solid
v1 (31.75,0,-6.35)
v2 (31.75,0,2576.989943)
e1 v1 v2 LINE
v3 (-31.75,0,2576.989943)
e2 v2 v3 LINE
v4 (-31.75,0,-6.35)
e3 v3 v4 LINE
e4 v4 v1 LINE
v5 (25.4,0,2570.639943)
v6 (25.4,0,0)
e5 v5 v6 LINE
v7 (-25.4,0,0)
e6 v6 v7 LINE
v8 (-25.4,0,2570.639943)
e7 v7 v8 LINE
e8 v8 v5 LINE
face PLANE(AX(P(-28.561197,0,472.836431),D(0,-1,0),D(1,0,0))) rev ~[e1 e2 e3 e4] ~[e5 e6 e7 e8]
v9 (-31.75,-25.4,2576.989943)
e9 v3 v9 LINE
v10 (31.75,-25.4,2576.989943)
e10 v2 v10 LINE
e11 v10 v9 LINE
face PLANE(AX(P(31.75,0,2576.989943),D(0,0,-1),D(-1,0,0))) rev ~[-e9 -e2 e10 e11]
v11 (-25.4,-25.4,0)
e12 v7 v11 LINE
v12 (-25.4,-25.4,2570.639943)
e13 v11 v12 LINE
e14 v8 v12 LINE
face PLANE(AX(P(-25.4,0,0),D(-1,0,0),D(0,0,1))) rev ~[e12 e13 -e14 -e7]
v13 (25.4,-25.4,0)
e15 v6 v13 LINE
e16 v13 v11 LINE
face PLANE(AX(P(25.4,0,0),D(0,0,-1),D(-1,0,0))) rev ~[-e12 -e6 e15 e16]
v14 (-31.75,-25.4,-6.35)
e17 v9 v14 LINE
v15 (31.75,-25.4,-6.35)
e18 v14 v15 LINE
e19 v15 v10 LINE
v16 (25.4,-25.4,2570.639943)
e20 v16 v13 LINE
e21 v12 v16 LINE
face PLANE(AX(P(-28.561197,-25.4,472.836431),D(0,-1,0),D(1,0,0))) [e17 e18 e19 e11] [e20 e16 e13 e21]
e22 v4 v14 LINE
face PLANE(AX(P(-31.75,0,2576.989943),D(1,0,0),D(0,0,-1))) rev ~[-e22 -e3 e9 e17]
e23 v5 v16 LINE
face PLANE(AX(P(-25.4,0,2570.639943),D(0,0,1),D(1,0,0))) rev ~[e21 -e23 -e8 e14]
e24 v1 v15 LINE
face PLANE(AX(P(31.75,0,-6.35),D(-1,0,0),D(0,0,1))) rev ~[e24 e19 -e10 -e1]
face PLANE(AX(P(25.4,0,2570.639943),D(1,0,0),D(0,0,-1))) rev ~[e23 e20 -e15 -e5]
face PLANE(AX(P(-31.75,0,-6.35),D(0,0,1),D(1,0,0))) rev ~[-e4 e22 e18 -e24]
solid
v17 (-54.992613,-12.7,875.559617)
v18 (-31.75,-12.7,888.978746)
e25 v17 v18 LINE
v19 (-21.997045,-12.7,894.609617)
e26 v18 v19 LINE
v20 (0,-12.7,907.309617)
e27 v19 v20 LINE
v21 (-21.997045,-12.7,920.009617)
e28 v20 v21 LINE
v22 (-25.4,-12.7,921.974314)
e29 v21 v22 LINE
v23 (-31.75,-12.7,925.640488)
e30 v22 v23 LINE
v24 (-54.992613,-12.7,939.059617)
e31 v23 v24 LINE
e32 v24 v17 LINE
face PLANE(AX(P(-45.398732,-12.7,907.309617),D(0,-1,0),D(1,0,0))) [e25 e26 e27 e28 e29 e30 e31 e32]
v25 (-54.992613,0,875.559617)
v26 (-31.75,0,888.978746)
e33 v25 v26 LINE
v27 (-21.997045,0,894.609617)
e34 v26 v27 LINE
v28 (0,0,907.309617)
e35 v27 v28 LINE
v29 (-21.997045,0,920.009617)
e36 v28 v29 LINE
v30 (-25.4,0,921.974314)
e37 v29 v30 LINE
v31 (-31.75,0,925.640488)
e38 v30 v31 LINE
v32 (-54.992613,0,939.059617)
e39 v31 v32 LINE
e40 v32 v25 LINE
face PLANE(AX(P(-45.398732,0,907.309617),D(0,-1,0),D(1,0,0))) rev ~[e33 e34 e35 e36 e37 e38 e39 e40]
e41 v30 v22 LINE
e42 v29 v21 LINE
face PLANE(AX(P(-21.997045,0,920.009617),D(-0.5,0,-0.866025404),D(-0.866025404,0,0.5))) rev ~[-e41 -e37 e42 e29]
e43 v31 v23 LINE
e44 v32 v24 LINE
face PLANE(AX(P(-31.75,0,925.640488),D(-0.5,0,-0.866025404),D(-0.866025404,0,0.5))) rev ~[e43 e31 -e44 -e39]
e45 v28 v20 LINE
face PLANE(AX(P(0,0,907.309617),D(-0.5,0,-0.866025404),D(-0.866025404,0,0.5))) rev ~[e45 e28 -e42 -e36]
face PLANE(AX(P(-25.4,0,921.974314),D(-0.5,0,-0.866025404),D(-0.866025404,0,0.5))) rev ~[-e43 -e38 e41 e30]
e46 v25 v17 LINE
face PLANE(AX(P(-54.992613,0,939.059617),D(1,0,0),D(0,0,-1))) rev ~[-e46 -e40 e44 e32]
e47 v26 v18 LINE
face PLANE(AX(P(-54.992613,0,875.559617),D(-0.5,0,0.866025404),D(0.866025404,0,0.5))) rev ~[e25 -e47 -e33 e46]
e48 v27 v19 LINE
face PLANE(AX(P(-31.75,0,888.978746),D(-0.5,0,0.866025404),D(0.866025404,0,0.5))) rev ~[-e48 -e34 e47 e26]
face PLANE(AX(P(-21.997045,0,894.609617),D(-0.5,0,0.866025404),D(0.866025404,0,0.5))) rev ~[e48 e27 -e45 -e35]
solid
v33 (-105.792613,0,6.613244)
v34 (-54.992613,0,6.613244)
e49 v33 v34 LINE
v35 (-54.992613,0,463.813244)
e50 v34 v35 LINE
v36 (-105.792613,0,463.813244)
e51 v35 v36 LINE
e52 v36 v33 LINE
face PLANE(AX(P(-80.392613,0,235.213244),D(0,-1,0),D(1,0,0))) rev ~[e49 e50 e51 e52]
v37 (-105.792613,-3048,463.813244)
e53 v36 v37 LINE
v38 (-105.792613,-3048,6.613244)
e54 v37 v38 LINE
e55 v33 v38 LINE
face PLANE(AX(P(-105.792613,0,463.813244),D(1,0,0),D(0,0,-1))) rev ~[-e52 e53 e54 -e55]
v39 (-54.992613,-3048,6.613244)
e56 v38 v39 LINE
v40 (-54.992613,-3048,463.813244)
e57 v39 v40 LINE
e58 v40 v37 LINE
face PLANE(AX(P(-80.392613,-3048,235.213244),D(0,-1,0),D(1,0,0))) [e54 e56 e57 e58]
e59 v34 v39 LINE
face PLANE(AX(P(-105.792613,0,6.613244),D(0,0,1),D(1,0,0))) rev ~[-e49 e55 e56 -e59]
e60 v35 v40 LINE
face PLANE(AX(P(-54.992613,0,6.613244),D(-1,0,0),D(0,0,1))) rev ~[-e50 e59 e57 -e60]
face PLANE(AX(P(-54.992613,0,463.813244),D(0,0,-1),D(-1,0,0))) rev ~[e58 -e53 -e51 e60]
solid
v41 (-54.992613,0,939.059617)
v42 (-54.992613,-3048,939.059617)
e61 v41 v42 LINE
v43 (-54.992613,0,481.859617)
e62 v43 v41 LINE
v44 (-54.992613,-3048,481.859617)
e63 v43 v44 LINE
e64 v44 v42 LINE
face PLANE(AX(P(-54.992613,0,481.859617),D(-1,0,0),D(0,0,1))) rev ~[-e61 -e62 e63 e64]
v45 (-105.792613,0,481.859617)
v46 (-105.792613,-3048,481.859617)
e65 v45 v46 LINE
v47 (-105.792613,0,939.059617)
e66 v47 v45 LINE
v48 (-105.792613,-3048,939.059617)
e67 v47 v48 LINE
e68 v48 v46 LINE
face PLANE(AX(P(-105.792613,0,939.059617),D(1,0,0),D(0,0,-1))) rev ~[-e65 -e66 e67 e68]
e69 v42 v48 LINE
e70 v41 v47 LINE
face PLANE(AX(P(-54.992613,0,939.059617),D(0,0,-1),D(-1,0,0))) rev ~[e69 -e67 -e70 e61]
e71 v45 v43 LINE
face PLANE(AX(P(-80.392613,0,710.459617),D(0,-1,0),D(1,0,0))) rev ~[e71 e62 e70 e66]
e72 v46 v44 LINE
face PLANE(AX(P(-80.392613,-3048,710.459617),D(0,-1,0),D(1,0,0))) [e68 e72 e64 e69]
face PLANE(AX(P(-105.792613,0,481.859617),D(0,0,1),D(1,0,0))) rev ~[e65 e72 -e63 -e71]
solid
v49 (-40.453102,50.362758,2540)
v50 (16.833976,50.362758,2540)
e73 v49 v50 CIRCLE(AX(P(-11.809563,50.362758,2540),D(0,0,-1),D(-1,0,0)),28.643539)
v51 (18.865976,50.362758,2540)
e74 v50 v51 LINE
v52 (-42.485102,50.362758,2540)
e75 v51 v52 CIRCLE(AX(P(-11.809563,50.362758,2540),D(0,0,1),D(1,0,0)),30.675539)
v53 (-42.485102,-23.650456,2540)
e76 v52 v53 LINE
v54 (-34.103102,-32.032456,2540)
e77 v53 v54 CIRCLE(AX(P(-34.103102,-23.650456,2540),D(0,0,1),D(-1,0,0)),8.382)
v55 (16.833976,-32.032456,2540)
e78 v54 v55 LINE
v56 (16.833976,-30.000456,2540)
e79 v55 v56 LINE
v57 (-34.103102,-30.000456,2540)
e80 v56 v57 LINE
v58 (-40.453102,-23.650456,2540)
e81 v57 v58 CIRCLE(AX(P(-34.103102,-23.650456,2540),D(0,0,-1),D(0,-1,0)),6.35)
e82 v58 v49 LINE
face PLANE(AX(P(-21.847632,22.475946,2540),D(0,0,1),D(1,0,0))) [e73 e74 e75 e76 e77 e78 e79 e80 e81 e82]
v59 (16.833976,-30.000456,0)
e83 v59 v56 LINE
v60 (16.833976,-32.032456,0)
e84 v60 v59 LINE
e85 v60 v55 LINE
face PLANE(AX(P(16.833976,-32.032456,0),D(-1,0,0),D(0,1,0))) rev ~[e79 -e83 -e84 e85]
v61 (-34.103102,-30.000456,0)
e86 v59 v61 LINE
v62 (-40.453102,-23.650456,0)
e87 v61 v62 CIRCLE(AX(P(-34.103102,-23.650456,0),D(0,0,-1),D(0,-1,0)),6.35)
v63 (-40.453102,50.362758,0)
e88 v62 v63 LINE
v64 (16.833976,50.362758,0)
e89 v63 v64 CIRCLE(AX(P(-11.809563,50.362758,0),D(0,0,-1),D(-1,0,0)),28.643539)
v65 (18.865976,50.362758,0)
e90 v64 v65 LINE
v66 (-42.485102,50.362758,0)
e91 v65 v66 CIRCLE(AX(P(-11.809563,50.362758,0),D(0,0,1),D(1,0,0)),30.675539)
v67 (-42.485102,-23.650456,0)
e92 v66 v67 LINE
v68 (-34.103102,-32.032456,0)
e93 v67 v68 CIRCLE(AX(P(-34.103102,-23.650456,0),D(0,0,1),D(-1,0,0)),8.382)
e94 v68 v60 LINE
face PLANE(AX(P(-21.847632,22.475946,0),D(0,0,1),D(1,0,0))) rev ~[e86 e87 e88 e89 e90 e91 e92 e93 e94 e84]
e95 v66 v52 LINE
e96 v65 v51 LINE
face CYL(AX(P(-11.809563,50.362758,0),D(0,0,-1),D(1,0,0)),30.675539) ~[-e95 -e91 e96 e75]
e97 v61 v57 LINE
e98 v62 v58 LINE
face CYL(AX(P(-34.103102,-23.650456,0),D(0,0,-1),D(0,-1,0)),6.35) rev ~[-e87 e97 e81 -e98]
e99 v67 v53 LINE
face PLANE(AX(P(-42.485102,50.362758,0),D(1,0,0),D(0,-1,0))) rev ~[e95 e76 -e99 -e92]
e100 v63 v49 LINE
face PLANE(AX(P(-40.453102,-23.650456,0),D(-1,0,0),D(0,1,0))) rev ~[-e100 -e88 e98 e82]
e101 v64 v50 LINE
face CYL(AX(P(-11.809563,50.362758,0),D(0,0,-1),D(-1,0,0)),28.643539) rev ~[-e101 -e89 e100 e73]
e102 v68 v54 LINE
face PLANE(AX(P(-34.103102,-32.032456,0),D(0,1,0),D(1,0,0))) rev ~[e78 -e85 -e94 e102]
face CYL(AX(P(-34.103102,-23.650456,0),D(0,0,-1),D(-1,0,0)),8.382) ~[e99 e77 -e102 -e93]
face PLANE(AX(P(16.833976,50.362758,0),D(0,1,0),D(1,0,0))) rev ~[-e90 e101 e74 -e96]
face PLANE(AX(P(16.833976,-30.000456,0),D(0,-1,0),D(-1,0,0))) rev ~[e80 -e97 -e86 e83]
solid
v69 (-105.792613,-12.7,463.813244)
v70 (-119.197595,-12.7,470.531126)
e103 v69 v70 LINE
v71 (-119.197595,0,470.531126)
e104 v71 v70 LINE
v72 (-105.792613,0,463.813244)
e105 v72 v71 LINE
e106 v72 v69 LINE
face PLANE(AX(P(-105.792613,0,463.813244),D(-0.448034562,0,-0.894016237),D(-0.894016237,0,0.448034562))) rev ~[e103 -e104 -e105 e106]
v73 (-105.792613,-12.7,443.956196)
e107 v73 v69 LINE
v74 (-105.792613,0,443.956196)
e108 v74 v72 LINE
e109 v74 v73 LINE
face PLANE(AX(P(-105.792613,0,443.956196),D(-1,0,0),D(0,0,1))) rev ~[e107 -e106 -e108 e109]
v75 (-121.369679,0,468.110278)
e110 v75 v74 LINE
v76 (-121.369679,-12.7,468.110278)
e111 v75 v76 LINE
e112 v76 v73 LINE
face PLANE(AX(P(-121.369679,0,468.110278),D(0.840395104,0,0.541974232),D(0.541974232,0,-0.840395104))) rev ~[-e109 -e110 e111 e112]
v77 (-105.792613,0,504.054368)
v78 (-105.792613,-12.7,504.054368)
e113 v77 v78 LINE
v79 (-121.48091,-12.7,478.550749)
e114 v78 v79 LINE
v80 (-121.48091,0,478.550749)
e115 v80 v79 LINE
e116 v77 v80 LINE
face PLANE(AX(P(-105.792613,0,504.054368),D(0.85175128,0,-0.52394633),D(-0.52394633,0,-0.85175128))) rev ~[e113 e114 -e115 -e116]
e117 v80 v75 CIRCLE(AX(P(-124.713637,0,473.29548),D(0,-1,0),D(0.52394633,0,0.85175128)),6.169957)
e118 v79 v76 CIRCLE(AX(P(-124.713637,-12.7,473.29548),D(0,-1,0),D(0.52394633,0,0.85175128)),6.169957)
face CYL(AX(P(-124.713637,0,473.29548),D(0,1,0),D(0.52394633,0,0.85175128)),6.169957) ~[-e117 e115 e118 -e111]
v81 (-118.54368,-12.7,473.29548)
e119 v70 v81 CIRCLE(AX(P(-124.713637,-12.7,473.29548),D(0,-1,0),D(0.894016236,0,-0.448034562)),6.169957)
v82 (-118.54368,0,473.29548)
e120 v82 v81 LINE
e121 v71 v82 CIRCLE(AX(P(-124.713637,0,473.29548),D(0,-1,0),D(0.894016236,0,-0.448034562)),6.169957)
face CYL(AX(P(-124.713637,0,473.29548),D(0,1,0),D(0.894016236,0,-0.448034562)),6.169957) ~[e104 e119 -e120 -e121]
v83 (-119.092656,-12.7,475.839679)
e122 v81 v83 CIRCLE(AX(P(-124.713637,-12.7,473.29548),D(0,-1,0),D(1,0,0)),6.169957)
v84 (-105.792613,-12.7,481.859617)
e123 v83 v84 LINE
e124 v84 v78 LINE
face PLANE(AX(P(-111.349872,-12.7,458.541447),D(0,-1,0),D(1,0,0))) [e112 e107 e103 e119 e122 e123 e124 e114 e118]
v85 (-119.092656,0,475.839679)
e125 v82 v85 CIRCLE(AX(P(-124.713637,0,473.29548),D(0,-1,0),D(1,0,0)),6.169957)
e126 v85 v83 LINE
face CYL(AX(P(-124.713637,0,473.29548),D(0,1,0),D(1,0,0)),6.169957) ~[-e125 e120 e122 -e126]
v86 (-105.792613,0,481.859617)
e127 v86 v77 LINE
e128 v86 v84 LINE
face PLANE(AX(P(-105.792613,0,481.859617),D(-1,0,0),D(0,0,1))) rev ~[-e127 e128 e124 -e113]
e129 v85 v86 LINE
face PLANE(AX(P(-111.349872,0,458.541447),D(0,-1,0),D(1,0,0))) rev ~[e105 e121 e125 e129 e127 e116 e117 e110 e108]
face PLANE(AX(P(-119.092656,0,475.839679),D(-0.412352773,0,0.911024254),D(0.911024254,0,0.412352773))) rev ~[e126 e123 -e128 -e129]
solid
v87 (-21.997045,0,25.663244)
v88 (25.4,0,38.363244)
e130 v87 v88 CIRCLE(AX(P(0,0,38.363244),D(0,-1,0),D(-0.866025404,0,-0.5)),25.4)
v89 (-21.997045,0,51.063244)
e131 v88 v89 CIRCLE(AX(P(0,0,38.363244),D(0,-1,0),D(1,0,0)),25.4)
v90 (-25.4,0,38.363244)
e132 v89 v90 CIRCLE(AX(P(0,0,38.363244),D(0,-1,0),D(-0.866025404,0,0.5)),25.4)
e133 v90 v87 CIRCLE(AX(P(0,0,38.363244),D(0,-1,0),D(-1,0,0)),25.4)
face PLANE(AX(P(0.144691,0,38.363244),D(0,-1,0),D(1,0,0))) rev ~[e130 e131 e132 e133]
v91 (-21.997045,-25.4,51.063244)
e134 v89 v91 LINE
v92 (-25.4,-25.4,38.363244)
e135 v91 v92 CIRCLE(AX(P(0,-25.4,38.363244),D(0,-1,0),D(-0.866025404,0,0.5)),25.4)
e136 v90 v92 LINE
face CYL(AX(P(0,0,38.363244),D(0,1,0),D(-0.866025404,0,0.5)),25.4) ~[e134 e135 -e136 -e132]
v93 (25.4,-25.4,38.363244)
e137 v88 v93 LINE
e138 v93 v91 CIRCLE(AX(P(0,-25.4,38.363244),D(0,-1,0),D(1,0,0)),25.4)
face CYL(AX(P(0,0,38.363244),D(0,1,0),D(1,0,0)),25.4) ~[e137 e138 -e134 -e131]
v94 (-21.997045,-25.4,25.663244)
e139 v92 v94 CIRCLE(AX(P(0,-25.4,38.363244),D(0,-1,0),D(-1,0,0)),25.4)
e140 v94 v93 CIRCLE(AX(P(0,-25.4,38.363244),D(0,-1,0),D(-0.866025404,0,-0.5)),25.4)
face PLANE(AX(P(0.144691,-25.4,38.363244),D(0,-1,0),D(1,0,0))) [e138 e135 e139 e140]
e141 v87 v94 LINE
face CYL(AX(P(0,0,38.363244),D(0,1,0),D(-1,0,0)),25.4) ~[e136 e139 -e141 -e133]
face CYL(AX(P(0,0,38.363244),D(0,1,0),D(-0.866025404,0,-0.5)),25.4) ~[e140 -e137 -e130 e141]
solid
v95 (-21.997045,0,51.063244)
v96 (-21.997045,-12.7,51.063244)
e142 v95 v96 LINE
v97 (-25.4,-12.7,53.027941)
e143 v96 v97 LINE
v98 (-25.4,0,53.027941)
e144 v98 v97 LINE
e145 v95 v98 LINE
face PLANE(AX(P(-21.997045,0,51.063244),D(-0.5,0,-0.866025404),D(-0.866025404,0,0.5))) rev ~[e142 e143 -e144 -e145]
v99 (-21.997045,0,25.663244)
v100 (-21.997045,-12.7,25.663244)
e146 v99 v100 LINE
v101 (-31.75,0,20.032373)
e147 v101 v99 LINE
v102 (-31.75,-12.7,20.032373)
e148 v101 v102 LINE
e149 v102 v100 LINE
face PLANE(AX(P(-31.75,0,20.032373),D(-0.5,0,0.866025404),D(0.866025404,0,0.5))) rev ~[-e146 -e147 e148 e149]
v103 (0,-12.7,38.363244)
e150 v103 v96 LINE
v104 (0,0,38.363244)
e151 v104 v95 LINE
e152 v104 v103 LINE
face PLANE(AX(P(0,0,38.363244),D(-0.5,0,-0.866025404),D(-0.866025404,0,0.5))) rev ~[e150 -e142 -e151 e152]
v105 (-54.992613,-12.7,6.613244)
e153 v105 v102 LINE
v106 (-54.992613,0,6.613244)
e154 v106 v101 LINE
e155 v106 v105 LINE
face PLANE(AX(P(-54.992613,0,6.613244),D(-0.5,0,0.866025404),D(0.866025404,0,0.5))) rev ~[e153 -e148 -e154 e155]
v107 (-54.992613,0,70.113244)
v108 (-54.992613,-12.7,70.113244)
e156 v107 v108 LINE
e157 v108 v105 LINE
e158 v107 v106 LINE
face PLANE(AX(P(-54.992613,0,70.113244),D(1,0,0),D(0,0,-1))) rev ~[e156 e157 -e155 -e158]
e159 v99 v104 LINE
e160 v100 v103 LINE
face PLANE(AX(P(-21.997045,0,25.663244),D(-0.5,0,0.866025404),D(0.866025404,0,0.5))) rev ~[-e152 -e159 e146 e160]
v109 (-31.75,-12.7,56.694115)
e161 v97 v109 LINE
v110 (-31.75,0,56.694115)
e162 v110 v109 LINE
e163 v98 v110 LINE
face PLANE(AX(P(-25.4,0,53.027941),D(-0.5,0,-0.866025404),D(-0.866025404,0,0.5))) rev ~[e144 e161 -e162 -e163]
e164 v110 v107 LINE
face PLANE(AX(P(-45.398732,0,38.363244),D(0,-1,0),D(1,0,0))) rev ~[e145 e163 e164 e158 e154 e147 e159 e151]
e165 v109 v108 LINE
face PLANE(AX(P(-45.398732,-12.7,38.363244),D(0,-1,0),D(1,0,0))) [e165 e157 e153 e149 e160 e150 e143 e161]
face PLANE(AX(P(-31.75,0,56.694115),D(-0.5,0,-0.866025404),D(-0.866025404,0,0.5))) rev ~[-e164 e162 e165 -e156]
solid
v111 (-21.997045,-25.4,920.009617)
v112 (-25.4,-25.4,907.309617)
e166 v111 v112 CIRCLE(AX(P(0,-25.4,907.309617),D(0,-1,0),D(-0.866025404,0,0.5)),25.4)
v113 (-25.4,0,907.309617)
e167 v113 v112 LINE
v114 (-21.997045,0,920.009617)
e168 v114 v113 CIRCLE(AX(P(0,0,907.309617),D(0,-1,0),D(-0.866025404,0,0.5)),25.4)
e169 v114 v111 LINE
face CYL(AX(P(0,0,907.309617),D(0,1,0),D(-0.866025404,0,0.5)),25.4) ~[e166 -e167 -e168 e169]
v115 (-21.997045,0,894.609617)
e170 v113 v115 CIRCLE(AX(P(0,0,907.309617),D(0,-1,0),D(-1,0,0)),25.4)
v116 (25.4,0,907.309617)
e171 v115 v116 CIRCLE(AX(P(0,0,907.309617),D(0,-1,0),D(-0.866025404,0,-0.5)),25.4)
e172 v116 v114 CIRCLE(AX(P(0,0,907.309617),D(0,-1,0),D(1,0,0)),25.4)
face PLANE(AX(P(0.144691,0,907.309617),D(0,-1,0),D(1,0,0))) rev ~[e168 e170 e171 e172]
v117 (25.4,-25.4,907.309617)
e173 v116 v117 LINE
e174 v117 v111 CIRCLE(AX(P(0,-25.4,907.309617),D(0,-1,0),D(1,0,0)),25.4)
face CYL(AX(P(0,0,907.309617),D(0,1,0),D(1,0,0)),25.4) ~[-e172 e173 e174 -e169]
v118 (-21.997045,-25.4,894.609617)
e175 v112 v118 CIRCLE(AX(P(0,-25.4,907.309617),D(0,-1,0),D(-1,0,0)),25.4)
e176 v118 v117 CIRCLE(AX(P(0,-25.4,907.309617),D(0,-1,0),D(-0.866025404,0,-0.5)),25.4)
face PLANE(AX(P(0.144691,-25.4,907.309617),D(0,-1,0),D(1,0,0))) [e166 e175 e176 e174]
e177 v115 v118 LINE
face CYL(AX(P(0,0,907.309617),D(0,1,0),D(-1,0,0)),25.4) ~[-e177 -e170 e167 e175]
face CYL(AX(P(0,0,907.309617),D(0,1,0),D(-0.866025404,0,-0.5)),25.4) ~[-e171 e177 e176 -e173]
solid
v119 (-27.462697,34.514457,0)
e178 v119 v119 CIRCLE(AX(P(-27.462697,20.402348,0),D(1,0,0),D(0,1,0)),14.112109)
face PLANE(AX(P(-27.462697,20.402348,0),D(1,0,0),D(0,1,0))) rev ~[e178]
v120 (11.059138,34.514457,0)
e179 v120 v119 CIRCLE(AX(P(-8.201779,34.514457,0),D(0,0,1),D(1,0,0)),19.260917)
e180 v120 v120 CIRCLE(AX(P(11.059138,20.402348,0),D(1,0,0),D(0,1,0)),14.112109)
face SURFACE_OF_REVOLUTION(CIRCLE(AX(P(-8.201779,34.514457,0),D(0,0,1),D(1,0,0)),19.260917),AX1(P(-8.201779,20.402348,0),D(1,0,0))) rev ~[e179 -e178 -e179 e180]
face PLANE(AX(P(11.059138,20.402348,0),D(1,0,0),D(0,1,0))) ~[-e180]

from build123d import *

# Parameters (mm, degrees)
F1_DEPTH = 2540
F4_DEPTH = 25.4
F5_DEPTH = 25.4
F6_DEPTH = 3048
F7_DEPTH = 12.7


with BuildPart() as f1:
    # F0 (on Top) → F1 (new body)
    with BuildSketch(Plane.XY):
        with BuildLine():
            ThreePointArc((-34.1031024396, -30.0004556775), (-38.5932305002, -28.140583738), (-40.4531024396, -23.6504556775))
            Line((-40.4531024396, -23.6504556775), (-40.4531024396, 50.3627583385))
            ThreePointArc((-40.4531024396, 50.3627583385), (-11.8095632643, 79.0062975138), (16.8339759111, 50.3627583385))
            Line((16.8339759111, 50.3627583385), (18.8659759111, 50.3627583385))
            ThreePointArc((18.8659759111, 50.3627583385), (-11.8095632643, 81.0382975138), (-42.4851024396, 50.3627583385))
            Line((-42.4851024396, 50.3627583385), (-42.4851024396, -23.6504556775))
            ThreePointArc((-42.4851024396, -23.6504556775), (-40.0300714795, -29.5774247174), (-34.1031024396, -32.0324556775))
            Line((-34.1031024396, -32.0324556775), (16.8339759111, -32.0324556775))
            Line((16.8339759111, -32.0324556775), (16.8339759111, -30.0004556775))
            Line((16.8339759111, -30.0004556775), (-34.1031024396, -30.0004556775))
        make_face()
    extrude(amount=F1_DEPTH)


with BuildPart() as f2:
    # F0 (on Top) → F2 (revolve)
    with BuildSketch(Plane.XY):
        with BuildLine():
            Line((11.0591379926, 20.402347669), (11.0591379926, 34.5144569874))
            ThreePointArc((11.0591379926, 34.5144569874), (-8.201779332, 53.775374312), (-27.4626966566, 34.5144569874))
            Line((-27.4626966566, 34.5144569874), (-27.4626966566, 20.402347669))
            Line((-27.4626966566, 20.402347669), (11.0591379926, 20.402347669))
        make_face()
    revolve(axis=Axis((-8.201779332, 20.402347669, 0), (1, 0, 0)))


with BuildPart() as f4:
    # F3 (on Front) → F4 (new body)
    with BuildSketch(Plane.XZ):
        Polygon((-31.75, 888.9787460817), (-31.75, 56.6941154313), (-25.4, 53.0279412219), (-25.4, 892.644920291), align=None)
        Polygon((-25.4, 53.0279412219), (-31.75, 56.6941154313), (-31.75, 20.0323733378), (-25.4, 23.6985475471), (-25.4, 38.3632443845), align=None)
        Polygon((-25.4, 23.6985475471), (-31.75, 20.0323733378), (-31.75, -6.35), (31.75, -6.35), (31.75, 2576.9899427727), (-31.75, 2576.9899427727), (-31.75, 925.6404881752), (-25.4, 921.9743139658), (-25.4, 2570.6399427727), (25.4, 2570.6399427727), (25.4, 907.3096171284), (25.4, 38.3632443845), (25.4, 0), (-25.4, 0), align=None)
        Polygon((-31.75, 925.6404881752), (-31.75, 888.9787460817), (-25.4, 892.644920291), (-25.4, 907.3096171284), (-25.4, 921.9743139658), align=None)
    extrude(amount=F4_DEPTH)


with BuildPart() as f5:
    # F3 (on Front) → F5 (new body)
    with BuildSketch(Plane.XZ):
        with BuildLine():
            Line((0, 907.3096171284), (-21.9970452561, 894.6096171284))
            ThreePointArc((-21.9970452561, 894.6096171284), (6.5740037456, 882.7751011407), (25.4, 907.3096171284))
            ThreePointArc((25.4, 907.3096171284), (6.5740037456, 931.8441331162), (-21.9970452561, 920.0096171284))
            Line((-21.9970452561, 920.0096171284), (0, 907.3096171284))
        make_face()
        with BuildLine():
            ThreePointArc((-21.9970452561, 920.0096171284), (-24.5345159877, 913.883620874), (-25.4, 907.3096171284))
            ThreePointArc((-25.4, 907.3096171284), (-24.5345159877, 900.7356133828), (-21.9970452561, 894.6096171284))
            Line((-21.9970452561, 894.6096171284), (0, 907.3096171284))
            Line((0, 907.3096171284), (-21.9970452561, 920.0096171284))
        make_face()
    extrude(amount=F5_DEPTH)


with BuildPart() as f5b:
    # F3 (on Front) → F5, piece 2 (new body)
    with BuildSketch(Plane.XZ):
        with BuildLine():
            ThreePointArc((25.4, 38.3632443845), (6.5740037456, 62.8977603723), (-21.9970452561, 51.0632443845))
            Line((-21.9970452561, 51.0632443845), (0, 38.3632443845))
            Line((0, 38.3632443845), (-21.9970452561, 25.6632443845))
            ThreePointArc((-21.9970452561, 25.6632443845), (6.5740037456, 13.8287283968), (25.4, 38.3632443845))
        make_face()
        with BuildLine():
            ThreePointArc((-21.9970452561, 51.0632443845), (-24.5345159877, 44.9372481301), (-25.4, 38.3632443845))
            ThreePointArc((-25.4, 38.3632443845), (-24.5345159877, 31.7892406389), (-21.9970452561, 25.6632443845))
            Line((-21.9970452561, 25.6632443845), (0, 38.3632443845))
            Line((0, 38.3632443845), (-21.9970452561, 51.0632443845))
        make_face()
    extrude(amount=F5_DEPTH)


with BuildPart() as f6:
    # F3 (on Front) → F6 (new body)
    with BuildSketch(Plane.XZ):
        Polygon((-54.9926131403, 463.8132443845), (-105.7926131403, 463.8132443845), (-105.7926131403, 443.9561963081), (-105.7926131403, 6.6132443845), (-54.9926131403, 6.6132443845), (-54.9926131403, 70.1132443845), align=None)
    extrude(amount=F6_DEPTH)


with BuildPart() as f6b:
    # F3 (on Front) → F6, piece 2 (new body)
    with BuildSketch(Plane.XZ):
        Polygon((-105.7926131403, 939.0596171284), (-105.7926131403, 504.0543675423), (-105.7926131403, 481.8596171284), (-54.9926131403, 481.8596171284), (-54.9926131403, 875.5596171284), (-54.9926131403, 939.0596171284), align=None)
    extrude(amount=F6_DEPTH)


with BuildPart() as f7:
    # F3 (on Front) → F7 (new body)
    with BuildSketch(Plane.XZ):
        Polygon((-31.75, 56.6941154313), (-54.9926131403, 70.1132443845), (-54.9926131403, 6.6132443845), (-31.75, 20.0323733378), align=None)
        Polygon((-25.4, 53.0279412219), (-31.75, 56.6941154313), (-31.75, 20.0323733378), (-25.4, 23.6985475471), (-25.4, 38.3632443845), align=None)
        with BuildLine():
            Line((-21.9970452561, 51.0632443845), (-25.4, 53.0279412219))
            Line((-25.4, 53.0279412219), (-25.4, 38.3632443845))
            ThreePointArc((-25.4, 38.3632443845), (-24.5345159877, 44.9372481301), (-21.9970452561, 51.0632443845))
        make_face()
        with BuildLine():
            Line((-25.4, 38.3632443845), (-25.4, 23.6985475471))
            Line((-25.4, 23.6985475471), (-21.9970452561, 25.6632443845))
            ThreePointArc((-21.9970452561, 25.6632443845), (-24.5345159877, 31.7892406389), (-25.4, 38.3632443845))
        make_face()
        with BuildLine():
            ThreePointArc((-21.9970452561, 51.0632443845), (-24.5345159877, 44.9372481301), (-25.4, 38.3632443845))
            ThreePointArc((-25.4, 38.3632443845), (-24.5345159877, 31.7892406389), (-21.9970452561, 25.6632443845))
            Line((-21.9970452561, 25.6632443845), (0, 38.3632443845))
            Line((0, 38.3632443845), (-21.9970452561, 51.0632443845))
        make_face()
    extrude(amount=F7_DEPTH)


with BuildPart() as f7b:
    # F3 (on Front) → F7, piece 2 (new body)
    with BuildSketch(Plane.XZ):
        with BuildLine():
            Line((-105.7926131403, 443.9561963081), (-105.7926131403, 463.8132443845))
            Line((-105.7926131403, 463.8132443845), (-119.1975950117, 470.5311259368))
            ThreePointArc((-119.1975950117, 470.5311259368), (-120.1212492294, 469.1750010214), (-121.3696791125, 468.1102781809))
            Line((-121.3696791125, 468.1102781809), (-105.7926131403, 443.9561963081))
        make_face()
        with BuildLine():
            Line((-105.7926131403, 504.0543675423), (-121.4809104986, 478.5507489636))
            ThreePointArc((-121.4809104986, 478.5507489636), (-120.0838953154, 477.3739435095), (-119.0926562734, 475.8396789754))
            Line((-119.0926562734, 475.8396789754), (-105.7926131403, 481.8596171284))
            Line((-105.7926131403, 481.8596171284), (-105.7926131403, 504.0543675423))
        make_face()
        with BuildLine():
            Line((-124.7136369348, 473.2954800129), (-119.1975950117, 470.5311259368))
            ThreePointArc((-119.1975950117, 470.5311259368), (-118.709383668, 471.8751579844), (-118.5436797262, 473.2954800129))
            ThreePointArc((-118.5436797262, 473.2954800129), (-118.6824852161, 474.5968565543), (-119.0926562734, 475.8396789754))
            Line((-119.0926562734, 475.8396789754), (-124.7136369348, 473.2954800129))
        make_face()
        with BuildLine():
            ThreePointArc((-121.4809104986, 478.5507489636), (-130.883244013, 473.2297498403), (-121.3696791125, 468.1102781809))
            Line((-121.3696791125, 468.1102781809), (-124.7136369348, 473.2954800129))
            Line((-124.7136369348, 473.2954800129), (-121.4809104986, 478.5507489636))
        make_face()
        with BuildLine():
            Line((-121.4809104986, 478.5507489636), (-124.7136369348, 473.2954800129))
            Line((-124.7136369348, 473.2954800129), (-119.0926562734, 475.8396789754))
            ThreePointArc((-119.0926562734, 475.8396789754), (-120.0838953154, 477.3739435095), (-121.4809104986, 478.5507489636))
        make_face()
        with BuildLine():
            ThreePointArc((-121.3696791125, 468.1102781809), (-120.1212492294, 469.1750010214), (-119.1975950117, 470.5311259368))
            Line((-119.1975950117, 470.5311259368), (-124.7136369348, 473.2954800129))
            Line((-124.7136369348, 473.2954800129), (-121.3696791125, 468.1102781809))
        make_face()
    extrude(amount=F7_DEPTH)


with BuildPart() as f7c:
    # F3 (on Front) → F7, piece 3 (new body)
    with BuildSketch(Plane.XZ):
        Polygon((-54.9926131403, 875.5596171284), (-31.75, 888.9787460817), (-31.75, 925.6404881752), (-54.9926131403, 939.0596171284), align=None)
        Polygon((-31.75, 925.6404881752), (-31.75, 888.9787460817), (-25.4, 892.644920291), (-25.4, 907.3096171284), (-25.4, 921.9743139658), align=None)
        with BuildLine():
            ThreePointArc((-21.9970452561, 920.0096171284), (-24.5345159877, 913.883620874), (-25.4, 907.3096171284))
            ThreePointArc((-25.4, 907.3096171284), (-24.5345159877, 900.7356133828), (-21.9970452561, 894.6096171284))
            Line((-21.9970452561, 894.6096171284), (0, 907.3096171284))
            Line((0, 907.3096171284), (-21.9970452561, 920.0096171284))
        make_face()
        with BuildLine():
            Line((-21.9970452561, 920.0096171284), (-25.4, 921.9743139658))
            Line((-25.4, 921.9743139658), (-25.4, 907.3096171284))
            ThreePointArc((-25.4, 907.3096171284), (-24.5345159877, 913.883620874), (-21.9970452561, 920.0096171284))
        make_face()
        with BuildLine():
            Line((-25.4, 907.3096171284), (-25.4, 892.644920291))
            Line((-25.4, 892.644920291), (-21.9970452561, 894.6096171284))
            ThreePointArc((-21.9970452561, 894.6096171284), (-24.5345159877, 900.7356133828), (-25.4, 907.3096171284))
        make_face()
    extrude(amount=F7_DEPTH)


solid = Compound([f1.part, f2.part, f4.part, f5.part, f5b.part, f6.part, f6b.part, f7.part, f7b.part, f7c.part])
